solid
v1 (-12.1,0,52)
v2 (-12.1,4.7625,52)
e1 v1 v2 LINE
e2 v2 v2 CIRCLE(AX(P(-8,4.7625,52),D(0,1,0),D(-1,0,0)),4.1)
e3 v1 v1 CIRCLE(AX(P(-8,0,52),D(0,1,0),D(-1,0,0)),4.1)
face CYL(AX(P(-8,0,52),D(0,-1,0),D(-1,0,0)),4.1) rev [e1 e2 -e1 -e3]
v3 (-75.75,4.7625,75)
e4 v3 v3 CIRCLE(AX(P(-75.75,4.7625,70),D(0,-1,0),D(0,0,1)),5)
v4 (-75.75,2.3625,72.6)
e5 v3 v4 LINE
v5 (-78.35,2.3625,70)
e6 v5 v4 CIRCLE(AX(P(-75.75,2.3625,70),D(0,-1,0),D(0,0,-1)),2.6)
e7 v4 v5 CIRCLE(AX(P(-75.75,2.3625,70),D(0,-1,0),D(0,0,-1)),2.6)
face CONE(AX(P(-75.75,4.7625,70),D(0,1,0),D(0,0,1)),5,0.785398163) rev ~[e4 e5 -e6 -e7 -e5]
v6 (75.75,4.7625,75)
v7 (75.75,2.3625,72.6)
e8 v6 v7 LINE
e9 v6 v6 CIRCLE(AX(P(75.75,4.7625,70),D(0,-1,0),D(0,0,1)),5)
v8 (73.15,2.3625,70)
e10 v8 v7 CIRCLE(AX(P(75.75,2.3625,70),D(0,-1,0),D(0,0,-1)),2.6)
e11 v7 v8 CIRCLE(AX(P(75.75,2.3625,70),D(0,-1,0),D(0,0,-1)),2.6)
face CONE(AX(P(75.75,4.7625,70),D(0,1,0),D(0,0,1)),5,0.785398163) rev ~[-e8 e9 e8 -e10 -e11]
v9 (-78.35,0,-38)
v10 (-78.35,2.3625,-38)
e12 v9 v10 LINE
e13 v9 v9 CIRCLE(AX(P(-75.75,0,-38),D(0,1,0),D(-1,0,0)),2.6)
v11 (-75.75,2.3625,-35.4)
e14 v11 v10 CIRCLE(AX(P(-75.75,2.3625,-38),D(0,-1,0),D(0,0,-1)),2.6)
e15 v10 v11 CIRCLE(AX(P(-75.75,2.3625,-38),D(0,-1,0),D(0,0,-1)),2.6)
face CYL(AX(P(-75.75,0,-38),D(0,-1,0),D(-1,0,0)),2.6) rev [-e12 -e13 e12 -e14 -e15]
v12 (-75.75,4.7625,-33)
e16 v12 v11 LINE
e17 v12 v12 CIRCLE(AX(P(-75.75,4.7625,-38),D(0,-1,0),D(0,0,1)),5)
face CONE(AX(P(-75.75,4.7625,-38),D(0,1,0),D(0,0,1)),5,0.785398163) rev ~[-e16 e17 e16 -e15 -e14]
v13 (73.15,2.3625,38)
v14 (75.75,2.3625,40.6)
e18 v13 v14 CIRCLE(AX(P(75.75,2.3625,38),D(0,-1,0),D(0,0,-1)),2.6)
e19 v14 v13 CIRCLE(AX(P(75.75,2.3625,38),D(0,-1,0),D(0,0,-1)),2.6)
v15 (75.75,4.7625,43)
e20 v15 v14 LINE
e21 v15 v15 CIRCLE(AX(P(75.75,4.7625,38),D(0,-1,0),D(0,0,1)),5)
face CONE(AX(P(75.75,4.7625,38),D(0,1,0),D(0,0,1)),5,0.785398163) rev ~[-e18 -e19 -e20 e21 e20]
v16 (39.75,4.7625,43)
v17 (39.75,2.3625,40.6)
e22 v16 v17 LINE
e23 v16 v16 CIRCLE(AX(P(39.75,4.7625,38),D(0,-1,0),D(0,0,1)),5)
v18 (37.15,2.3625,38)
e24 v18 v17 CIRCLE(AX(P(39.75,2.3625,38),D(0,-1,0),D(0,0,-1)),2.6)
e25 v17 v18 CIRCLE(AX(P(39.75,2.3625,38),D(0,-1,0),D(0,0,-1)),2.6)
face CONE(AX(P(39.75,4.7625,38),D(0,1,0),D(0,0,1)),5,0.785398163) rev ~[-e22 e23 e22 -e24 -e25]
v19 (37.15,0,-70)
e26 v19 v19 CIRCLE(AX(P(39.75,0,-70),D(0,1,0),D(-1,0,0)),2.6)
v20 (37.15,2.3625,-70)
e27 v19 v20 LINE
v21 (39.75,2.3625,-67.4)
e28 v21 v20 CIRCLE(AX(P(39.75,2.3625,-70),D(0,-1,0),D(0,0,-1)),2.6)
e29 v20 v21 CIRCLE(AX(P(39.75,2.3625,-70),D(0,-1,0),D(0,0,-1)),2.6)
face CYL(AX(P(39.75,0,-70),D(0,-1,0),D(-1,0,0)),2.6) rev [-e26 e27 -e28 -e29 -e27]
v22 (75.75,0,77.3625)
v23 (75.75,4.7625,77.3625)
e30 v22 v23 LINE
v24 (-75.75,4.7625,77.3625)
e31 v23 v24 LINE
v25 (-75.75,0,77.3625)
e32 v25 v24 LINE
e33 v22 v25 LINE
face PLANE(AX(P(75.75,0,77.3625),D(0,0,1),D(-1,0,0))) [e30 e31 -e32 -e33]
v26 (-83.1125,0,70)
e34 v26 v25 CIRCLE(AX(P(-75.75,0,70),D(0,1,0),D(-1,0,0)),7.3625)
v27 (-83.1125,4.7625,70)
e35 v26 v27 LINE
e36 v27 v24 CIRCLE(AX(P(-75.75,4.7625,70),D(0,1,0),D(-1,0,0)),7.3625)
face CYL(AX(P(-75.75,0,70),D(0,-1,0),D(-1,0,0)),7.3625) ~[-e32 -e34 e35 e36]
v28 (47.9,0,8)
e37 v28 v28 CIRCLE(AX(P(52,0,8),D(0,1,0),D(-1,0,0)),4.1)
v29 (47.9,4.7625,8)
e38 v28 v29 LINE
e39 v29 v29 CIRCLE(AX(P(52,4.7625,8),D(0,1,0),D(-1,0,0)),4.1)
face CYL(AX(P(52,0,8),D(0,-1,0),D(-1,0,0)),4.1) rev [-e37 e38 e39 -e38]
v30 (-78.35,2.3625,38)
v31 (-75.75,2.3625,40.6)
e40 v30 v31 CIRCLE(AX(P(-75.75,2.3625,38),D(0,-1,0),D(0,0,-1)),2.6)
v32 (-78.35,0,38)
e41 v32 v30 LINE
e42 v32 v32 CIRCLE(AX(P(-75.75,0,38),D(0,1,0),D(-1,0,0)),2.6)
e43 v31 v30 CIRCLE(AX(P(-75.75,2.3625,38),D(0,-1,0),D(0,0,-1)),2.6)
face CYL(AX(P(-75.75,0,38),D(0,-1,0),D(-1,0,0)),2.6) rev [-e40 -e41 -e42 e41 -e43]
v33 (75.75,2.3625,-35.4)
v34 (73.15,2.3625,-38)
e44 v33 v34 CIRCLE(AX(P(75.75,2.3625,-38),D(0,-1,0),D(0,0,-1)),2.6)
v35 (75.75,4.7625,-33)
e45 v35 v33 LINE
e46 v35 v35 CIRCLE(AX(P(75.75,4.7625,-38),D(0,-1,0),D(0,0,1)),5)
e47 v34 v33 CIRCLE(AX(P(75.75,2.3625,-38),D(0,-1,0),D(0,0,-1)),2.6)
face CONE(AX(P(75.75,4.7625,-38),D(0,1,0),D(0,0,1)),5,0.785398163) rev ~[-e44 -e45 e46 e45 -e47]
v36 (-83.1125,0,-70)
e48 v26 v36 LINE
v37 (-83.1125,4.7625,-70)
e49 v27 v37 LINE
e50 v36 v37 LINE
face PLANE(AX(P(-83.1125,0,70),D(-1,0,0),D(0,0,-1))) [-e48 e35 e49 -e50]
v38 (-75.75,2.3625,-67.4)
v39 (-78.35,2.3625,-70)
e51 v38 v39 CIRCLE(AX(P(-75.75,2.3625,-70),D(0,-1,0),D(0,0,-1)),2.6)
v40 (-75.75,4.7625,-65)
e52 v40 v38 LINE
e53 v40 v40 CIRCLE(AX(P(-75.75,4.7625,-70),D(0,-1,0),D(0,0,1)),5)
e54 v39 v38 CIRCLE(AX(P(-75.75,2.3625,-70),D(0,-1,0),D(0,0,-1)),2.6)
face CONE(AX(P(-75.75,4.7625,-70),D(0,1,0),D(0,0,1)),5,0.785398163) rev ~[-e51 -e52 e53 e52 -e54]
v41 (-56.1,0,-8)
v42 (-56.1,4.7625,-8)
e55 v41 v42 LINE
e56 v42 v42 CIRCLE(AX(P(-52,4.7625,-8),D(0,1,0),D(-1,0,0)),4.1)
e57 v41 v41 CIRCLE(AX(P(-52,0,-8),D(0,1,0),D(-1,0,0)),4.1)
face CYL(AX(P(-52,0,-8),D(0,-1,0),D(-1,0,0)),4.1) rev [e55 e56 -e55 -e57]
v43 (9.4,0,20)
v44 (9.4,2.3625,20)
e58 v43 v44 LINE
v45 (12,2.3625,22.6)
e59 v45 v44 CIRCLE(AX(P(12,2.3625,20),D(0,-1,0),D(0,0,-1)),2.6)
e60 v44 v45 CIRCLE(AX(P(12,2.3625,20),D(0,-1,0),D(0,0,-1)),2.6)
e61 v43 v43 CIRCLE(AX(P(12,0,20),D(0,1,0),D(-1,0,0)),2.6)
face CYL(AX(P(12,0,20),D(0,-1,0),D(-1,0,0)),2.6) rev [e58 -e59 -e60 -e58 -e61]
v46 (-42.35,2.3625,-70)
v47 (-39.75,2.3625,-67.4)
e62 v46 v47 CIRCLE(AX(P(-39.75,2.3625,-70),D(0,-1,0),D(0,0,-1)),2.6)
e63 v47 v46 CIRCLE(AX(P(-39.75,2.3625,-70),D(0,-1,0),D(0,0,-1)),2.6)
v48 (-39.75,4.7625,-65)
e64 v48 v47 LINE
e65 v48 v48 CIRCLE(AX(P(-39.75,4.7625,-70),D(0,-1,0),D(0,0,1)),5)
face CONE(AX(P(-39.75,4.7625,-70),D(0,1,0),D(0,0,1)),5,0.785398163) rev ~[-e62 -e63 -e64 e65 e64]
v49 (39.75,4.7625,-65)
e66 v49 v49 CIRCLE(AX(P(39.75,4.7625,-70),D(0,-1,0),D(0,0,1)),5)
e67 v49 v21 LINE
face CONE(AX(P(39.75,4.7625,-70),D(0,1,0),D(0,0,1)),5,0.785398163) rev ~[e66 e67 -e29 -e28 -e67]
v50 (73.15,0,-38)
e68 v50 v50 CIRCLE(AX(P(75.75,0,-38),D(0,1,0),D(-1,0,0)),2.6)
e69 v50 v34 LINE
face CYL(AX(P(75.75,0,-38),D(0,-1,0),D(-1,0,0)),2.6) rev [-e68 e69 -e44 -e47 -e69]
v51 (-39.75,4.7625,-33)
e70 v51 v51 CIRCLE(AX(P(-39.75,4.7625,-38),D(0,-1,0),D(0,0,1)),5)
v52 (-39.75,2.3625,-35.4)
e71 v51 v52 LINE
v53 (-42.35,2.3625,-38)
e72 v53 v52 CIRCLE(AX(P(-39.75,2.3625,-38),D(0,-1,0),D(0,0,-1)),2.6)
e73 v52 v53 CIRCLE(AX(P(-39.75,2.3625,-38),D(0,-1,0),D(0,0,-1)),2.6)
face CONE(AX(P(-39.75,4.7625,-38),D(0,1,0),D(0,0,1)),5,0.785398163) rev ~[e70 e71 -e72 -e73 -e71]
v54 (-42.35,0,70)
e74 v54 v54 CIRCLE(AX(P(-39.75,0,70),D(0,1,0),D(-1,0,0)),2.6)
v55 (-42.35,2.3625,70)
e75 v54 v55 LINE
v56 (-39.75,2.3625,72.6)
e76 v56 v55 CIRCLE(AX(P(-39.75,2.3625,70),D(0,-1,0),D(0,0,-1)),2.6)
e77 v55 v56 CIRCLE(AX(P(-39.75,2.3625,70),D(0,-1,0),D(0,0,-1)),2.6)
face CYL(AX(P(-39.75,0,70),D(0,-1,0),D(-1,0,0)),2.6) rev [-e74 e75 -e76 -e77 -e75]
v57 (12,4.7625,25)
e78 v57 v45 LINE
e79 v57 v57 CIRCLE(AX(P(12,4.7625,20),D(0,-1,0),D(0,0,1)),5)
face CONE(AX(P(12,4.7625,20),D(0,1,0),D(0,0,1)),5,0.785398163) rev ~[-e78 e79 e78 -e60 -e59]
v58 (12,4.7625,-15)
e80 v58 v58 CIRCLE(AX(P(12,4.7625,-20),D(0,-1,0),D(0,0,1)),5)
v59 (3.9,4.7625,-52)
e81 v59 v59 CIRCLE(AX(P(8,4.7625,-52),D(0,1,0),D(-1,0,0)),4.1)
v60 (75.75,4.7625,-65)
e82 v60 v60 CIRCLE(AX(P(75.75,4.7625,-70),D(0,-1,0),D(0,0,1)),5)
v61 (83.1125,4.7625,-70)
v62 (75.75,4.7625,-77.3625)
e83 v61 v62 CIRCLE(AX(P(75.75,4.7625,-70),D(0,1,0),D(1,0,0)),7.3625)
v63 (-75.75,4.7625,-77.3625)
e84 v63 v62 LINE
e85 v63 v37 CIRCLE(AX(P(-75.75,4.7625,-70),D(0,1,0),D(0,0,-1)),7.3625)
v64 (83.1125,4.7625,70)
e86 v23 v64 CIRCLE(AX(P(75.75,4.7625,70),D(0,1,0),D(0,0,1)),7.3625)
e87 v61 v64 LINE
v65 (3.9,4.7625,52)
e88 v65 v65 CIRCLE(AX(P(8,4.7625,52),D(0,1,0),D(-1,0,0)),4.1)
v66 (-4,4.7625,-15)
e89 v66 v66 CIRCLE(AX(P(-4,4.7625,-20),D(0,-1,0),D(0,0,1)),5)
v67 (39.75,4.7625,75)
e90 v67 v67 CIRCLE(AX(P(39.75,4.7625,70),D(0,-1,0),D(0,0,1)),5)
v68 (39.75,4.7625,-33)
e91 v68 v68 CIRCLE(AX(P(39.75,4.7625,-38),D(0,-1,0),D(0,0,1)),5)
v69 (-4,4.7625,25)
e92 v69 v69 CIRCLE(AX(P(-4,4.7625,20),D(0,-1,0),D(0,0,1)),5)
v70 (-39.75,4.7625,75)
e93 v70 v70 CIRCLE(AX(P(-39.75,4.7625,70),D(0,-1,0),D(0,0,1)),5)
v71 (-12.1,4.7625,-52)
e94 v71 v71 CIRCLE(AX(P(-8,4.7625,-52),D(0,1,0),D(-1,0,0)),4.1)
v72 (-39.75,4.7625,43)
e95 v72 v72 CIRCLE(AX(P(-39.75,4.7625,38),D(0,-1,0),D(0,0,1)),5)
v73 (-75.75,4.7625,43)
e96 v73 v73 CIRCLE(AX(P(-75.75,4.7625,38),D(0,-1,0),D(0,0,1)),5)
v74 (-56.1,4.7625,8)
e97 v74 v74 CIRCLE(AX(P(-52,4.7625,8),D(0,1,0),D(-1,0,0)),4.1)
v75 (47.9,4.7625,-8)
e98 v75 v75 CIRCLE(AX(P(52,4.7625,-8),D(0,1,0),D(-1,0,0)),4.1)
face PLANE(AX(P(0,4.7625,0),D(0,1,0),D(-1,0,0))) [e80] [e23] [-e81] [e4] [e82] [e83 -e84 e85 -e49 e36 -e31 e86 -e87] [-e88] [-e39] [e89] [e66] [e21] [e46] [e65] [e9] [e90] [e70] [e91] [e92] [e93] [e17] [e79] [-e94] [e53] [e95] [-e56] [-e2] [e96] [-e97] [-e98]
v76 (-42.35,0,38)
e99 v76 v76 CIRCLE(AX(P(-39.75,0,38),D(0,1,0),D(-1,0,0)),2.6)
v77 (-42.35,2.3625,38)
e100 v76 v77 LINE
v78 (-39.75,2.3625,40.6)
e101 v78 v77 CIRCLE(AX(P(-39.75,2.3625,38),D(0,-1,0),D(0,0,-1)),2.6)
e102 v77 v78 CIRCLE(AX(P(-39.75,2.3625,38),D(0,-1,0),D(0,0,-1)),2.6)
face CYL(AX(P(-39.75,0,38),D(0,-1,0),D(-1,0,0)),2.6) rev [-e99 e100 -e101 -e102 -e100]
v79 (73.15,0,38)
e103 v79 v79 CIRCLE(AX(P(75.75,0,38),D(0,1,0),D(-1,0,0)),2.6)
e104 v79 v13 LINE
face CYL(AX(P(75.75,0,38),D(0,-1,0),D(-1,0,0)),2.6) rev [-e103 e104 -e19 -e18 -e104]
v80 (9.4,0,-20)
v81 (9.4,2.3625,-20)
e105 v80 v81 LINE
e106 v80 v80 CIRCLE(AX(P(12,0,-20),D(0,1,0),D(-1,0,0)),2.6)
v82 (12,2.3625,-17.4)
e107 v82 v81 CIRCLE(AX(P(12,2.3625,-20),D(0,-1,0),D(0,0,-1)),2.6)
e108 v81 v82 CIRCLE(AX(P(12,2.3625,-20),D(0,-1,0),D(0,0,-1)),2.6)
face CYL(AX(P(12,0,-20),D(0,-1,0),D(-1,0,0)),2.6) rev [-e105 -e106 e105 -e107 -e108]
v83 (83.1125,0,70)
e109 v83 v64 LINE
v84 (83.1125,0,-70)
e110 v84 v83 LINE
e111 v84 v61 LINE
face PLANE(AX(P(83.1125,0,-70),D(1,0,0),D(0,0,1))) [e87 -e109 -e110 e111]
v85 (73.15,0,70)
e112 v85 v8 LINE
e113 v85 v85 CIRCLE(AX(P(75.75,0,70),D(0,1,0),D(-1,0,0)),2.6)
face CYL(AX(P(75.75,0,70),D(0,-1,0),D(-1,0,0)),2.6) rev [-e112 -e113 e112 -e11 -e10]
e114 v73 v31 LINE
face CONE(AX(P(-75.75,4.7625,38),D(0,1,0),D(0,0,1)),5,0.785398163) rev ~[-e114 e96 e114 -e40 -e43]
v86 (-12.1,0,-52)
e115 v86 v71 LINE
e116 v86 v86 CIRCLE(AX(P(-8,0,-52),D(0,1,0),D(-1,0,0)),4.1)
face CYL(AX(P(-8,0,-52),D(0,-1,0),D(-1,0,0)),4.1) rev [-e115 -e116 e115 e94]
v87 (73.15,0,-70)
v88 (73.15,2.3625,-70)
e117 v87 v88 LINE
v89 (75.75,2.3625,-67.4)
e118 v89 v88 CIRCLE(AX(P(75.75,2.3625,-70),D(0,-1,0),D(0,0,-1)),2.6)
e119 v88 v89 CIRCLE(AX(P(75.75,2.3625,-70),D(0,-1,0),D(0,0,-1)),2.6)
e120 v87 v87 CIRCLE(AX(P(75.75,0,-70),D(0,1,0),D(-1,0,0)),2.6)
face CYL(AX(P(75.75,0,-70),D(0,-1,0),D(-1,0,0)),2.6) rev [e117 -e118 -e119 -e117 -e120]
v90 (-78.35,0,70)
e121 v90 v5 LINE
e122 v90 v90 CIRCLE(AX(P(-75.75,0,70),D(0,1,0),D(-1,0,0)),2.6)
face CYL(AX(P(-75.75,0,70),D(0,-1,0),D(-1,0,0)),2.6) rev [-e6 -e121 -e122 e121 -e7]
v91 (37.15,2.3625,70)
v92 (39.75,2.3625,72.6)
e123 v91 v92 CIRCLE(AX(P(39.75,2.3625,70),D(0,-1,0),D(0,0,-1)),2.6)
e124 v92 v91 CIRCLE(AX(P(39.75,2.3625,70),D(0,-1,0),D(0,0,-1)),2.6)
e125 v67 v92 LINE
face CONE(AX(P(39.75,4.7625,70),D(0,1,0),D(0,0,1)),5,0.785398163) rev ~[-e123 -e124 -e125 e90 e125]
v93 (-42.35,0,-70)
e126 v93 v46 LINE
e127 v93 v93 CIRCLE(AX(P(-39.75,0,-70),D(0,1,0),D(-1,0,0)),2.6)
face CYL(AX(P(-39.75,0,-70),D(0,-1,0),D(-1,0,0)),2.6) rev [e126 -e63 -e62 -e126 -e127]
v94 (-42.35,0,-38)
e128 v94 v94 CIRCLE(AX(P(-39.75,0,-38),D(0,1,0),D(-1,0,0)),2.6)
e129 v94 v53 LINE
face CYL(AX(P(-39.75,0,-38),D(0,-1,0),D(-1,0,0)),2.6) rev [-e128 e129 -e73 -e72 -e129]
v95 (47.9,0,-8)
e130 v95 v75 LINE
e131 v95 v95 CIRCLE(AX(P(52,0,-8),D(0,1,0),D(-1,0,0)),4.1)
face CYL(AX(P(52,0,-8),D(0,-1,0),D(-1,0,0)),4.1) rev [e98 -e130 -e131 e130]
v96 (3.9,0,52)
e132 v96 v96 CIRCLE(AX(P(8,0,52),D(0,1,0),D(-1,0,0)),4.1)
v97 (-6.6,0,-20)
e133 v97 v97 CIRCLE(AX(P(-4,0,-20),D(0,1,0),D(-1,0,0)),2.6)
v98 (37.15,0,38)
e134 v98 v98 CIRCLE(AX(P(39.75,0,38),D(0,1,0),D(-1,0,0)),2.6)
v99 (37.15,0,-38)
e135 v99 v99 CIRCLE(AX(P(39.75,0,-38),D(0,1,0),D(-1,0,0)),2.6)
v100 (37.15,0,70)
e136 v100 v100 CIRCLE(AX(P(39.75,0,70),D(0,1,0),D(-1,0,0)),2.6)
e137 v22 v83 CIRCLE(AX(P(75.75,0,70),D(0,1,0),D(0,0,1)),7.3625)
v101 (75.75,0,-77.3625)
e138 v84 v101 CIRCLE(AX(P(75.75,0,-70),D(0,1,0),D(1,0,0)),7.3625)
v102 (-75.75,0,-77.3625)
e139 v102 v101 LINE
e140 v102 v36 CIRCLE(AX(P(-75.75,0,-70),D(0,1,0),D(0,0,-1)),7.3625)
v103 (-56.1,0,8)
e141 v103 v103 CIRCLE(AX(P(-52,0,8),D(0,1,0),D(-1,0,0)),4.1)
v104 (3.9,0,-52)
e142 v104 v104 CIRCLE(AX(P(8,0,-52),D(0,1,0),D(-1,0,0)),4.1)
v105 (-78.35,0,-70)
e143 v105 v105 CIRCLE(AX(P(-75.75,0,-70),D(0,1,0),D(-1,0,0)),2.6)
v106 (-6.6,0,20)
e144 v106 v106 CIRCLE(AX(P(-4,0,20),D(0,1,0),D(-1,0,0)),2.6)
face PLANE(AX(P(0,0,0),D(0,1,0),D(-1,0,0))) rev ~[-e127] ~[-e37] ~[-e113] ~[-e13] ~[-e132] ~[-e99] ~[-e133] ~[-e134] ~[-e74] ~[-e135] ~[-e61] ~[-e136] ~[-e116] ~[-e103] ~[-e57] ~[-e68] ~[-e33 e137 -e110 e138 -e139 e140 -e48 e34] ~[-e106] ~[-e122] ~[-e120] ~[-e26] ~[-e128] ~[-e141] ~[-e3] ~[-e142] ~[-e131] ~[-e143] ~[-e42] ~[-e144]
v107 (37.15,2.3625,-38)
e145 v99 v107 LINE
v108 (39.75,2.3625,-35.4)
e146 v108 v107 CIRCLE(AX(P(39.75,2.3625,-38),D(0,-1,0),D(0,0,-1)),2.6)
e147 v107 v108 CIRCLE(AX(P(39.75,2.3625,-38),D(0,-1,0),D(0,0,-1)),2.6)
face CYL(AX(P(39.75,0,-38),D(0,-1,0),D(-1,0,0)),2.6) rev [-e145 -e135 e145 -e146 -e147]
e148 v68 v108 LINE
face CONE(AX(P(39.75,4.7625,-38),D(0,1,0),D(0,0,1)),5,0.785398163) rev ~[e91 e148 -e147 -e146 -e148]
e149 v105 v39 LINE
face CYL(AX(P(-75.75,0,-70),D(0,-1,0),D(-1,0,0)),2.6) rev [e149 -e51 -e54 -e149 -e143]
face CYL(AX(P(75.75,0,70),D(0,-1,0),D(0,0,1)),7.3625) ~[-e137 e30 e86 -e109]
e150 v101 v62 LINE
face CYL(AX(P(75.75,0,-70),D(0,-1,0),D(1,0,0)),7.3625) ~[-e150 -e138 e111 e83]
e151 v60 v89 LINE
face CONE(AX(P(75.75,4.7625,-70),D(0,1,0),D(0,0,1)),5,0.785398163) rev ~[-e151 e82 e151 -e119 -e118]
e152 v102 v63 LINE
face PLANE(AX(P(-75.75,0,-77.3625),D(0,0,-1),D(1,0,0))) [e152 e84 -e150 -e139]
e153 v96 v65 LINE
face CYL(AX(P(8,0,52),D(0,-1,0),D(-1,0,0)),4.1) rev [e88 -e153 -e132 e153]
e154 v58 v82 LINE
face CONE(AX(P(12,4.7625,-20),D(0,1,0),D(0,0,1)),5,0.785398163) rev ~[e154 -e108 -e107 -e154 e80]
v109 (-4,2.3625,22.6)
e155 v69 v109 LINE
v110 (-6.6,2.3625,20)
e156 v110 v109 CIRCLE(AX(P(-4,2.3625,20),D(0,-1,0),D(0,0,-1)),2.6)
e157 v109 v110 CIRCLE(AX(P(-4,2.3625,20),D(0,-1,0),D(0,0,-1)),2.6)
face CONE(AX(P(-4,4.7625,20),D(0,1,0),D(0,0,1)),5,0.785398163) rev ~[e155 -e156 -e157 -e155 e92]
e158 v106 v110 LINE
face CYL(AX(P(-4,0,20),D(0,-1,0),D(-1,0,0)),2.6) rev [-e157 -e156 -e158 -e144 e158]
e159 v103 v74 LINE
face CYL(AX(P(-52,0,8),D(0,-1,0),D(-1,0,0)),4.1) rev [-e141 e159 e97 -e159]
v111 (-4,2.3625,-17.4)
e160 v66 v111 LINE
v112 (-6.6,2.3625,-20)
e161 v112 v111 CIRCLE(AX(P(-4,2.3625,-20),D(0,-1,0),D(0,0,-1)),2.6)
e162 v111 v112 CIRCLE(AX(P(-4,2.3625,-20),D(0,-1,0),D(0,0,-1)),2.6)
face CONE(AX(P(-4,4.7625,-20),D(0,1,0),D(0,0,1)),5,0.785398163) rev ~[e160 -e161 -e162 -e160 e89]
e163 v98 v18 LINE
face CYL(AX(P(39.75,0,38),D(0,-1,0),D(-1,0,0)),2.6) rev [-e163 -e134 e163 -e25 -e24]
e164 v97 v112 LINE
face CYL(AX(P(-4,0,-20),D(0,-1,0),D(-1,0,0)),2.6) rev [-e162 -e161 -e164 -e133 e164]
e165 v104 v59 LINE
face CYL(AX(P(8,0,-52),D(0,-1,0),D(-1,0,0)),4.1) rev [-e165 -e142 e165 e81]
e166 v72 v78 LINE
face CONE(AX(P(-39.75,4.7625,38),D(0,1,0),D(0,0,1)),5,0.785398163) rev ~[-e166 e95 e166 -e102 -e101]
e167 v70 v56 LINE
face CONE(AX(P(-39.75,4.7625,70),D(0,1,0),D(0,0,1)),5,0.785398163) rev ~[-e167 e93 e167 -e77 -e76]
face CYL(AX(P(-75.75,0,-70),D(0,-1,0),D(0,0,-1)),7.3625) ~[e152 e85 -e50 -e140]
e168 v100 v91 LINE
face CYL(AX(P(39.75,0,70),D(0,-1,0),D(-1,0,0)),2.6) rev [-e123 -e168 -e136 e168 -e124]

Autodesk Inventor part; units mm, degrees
ref_plane "YZ Plane" through (0, 0, 0) normal (1, 0, 0) x (0, 1, 0)
ref_plane "XZ Plane" through (0, 0, 0) normal (0, 1, 0) x (-1, 0, 0)
ref_plane "XY Plane" through (0, 0, 0) normal (0, 0, 1) x (1, 0, 0)
sketch "Sketch1" plane through (0, 0, 0) normal (0, 1, 0) x (-1, 0, 0)
  circle A0 centre (-12, 20) radius 2.6
  circle A1 centre (4, 20) radius 2.6
  circle A2 centre (4, -20) radius 2.6
  circle A3 centre (-12, -20) radius 2.6
  circle A4 centre (39.75, 38) radius 2.6
  circle A5 centre (39.75, 70) radius 2.6
  circle A6 centre (75.75, 70) radius 2.6
  circle A7 centre (75.75, 38) radius 2.6
  circle A8 centre (39.75, -38) radius 2.6
  circle A9 centre (75.75, -38) radius 2.6
  circle A10 centre (75.75, -70) radius 2.6
  circle A11 centre (39.75, -70) radius 2.6
  circle A12 centre (-39.75, 38) radius 2.6
  circle A13 centre (-39.75, 70) radius 2.6
  circle A14 centre (-75.75, 70) radius 2.6
  circle A15 centre (-75.75, 38) radius 2.6
  circle A16 centre (-39.75, -38) radius 2.6
  circle A17 centre (-39.75, -70) radius 2.6
  circle A18 centre (-75.75, -38) radius 2.6
  circle A19 centre (-75.75, -70) radius 2.6
  line L0 (-78.35, 8) -> (78.35, 8) construction
  line L1 (78.35, 8) -> (78.35, -8) construction
  line L2 (78.35, -8) -> (-78.35, -8) construction
  line L3 (-78.35, -8) -> (-78.35, 8) construction
  line L4 (8, 72.6) -> (-8, 72.6) construction
  line L5 (-8, 72.6) -> (-8, -72.6) construction
  line L6 (-8, -72.6) -> (8, -72.6) construction
  line L7 (8, -72.6) -> (8, 72.6) construction
  circle A20 centre (8, 52) radius 4.1
  line L8 (0, 0) -> (0, 72.6) construction
  line L9 (0, 0) -> (78.35, 0) construction
  circle A21 centre (52, 8) radius 4.1
  circle A22 centre (52, -8) radius 4.1
  circle A23 centre (8, -52) radius 4.1
  circle A24 centre (-8, 52) radius 4.1
  circle A25 centre (-52, 8) radius 4.1
  circle A26 centre (-52, -8) radius 4.1
  circle A27 centre (-8, -52) radius 4.1
  circle A28 centre (75.75, 70) radius 7.3625 construction
  circle A29 centre (75.75, -70) radius 7.3625 construction
  circle A30 centre (-75.75, -70) radius 7.3625 construction
  circle A31 centre (-75.75, 70) radius 7.3625 construction
  line L10 (83.1125, 70) -> (83.1125, -70)
  line L11 (75.75, -77.3625) -> (-75.75, -77.3625)
  line L12 (-83.1125, -70) -> (-83.1125, 70)
  line L13 (-75.75, 77.3625) -> (75.75, 77.3625)
  arc A32 (75.75, -77.3625) -> (83.1125, -70) centre (75.75, -70) ccw
  arc A33 (83.1125, 70) -> (75.75, 77.3625) centre (75.75, 70) ccw
  arc A34 (-75.75, 77.3625) -> (-83.1125, 70) centre (-75.75, 70) ccw
  arc A35 (-83.1125, -70) -> (-75.75, -77.3625) centre (-75.75, -70) ccw
  dimension "d0" = 5.2
  dimension "d1" = 12
  dimension "d2" = 20
  dimension "d3" = 16
  dimension "d4" = 20
  dimension "d5" = 18
  dimension "d6" = 35.75
  dimension "d7" = 32
  dimension "d8" = 36
  dimension "d9" = 18
  dimension "d10" = 32
  dimension "d11" = 27.75
  dimension "d12" = 36
  dimension "d13" = 16
  dimension "d14" = 8
  dimension "d15" = 8
  dimension "d16" = 8.2
  dimension "d18" = 18
  dimension "d20" = 31.75
  dimension "d22" = 30
  dimension "d26" = 4.7625
  dimension "d38" = 8
  dimension "d39" = 8
  dimension "d40" = 8
  dimension "d41" = 52
  dimension "d42" = 52
  dimension "d44" = 52
extrude "Extrusion1" add sketch "Sketch1" along normal blind 4.7625
sketch "Sketch2" plane through (0, 4.7625, 0) normal (0, 1, 0) x (1, 0, 0)
  line L0 (83.1125, -70) -> (83.1125, 70) projected
  arc A0 (83.1125, 70) -> (75.75, 77.3625) centre (75.75, 70) ccw projected
  line L1 (75.75, 77.3625) -> (-75.75, 77.3625) projected
  arc A1 (-75.75, 77.3625) -> (-83.1125, 70) centre (-75.75, 70) ccw projected
  line L2 (-83.1125, 70) -> (-83.1125, -70) projected
  arc A2 (-83.1125, -70) -> (-75.75, -77.3625) centre (-75.75, -70) ccw projected
  line L3 (-75.75, -77.3625) -> (75.75, -77.3625) projected
  arc A3 (75.75, -77.3625) -> (83.1125, -70) centre (75.75, -70) ccw projected
  circle A4 centre (8, 52) radius 4.1 projected
  circle A5 centre (8, -52) radius 4.1 projected
  circle A6 centre (-8, 52) radius 4.1 projected
  circle A7 centre (-52, -8) radius 4.1 projected
  circle A8 centre (75.75, 38) radius 2.6 projected
  circle A9 centre (39.75, 38) radius 2.6 projected
  circle A10 centre (39.75, -70) radius 2.6 projected
  circle A11 centre (-39.75, 70) radius 2.6 projected
  circle A12 centre (-39.75, 38) radius 2.6 projected
  circle A13 centre (-75.75, -38) radius 2.6 projected
  circle A14 centre (-39.75, -70) radius 2.6 projected
  circle A15 centre (-39.75, -38) radius 2.6 projected
  circle A16 centre (12, 20) radius 2.6 projected
  circle A17 centre (-4, 20) radius 2.6 projected
  circle A18 centre (-4, -20) radius 2.6 projected
  circle A19 centre (12, -20) radius 2.6 projected
  circle A20 centre (-75.75, 38) radius 2.6 projected
  circle A21 centre (39.75, -38) radius 2.6 projected
  circle A22 centre (75.75, -38) radius 2.6 projected
  circle A23 centre (39.75, 70) radius 2.6 projected
  circle A24 centre (-8, -52) radius 4.1 projected
  circle A25 centre (-52, 8) radius 4.1 projected
  circle A26 centre (52, -8) radius 4.1 projected
  circle A27 centre (52, 8) radius 4.1 projected
  circle A28 centre (75.75, 70) radius 2.6 projected
  circle A29 centre (75.75, -70) radius 2.6 projected
  circle A30 centre (-75.75, 70) radius 2.6 projected
  circle A31 centre (-75.75, -70) radius 2.6 projected
  point P0 (0, 0)
hole "Hole1" at (-75.75, 4.7625, 38) at (-75.75, 4.7625, 70) at (-39.75, 4.7625, 70) at (-39.75, 4.7625, 38) at (-75.75, 4.7625, -38) at (-75.75, 4.7625, -70) at (-39.75, 4.7625, -70) at (-39.75, 4.7625, -38) at (-4, 4.7625, -20) at (12, 4.7625, -20) at (12, 4.7625, 20) at (-4, 4.7625, 20) at (39.75, 4.7625, 38) at (75.75, 4.7625, 38) at (39.75, 4.7625, 70) at (75.75, 4.7625, 70) at (75.75, 4.7625, -38) at (39.75, 4.7625, -38) at (39.75, 4.7625, -70) at (75.75, 4.7625, -70) direction (0, -1, 0) diameter 4.019 end through all countersink diameter 10 countersink angle 90 thread size "M5" standard "Din Taper"
equation "\"d4\" = d2"
equation "\"d9\" = d5"
equation "\"d10\" = d7"
equation "\"d12\" = d8"
equation "\"d15\" = d14"
equation "\"d18\" = 0.5 * d8"
equation "\"d38\" = d39"
equation "\"d40\" = d38"
equation "\"d42\" = d41"
equation "\"d44\" = d41"
properties part number "CNC-005-XAxisMount1" material "Steel AISI 1008 91 HR"
